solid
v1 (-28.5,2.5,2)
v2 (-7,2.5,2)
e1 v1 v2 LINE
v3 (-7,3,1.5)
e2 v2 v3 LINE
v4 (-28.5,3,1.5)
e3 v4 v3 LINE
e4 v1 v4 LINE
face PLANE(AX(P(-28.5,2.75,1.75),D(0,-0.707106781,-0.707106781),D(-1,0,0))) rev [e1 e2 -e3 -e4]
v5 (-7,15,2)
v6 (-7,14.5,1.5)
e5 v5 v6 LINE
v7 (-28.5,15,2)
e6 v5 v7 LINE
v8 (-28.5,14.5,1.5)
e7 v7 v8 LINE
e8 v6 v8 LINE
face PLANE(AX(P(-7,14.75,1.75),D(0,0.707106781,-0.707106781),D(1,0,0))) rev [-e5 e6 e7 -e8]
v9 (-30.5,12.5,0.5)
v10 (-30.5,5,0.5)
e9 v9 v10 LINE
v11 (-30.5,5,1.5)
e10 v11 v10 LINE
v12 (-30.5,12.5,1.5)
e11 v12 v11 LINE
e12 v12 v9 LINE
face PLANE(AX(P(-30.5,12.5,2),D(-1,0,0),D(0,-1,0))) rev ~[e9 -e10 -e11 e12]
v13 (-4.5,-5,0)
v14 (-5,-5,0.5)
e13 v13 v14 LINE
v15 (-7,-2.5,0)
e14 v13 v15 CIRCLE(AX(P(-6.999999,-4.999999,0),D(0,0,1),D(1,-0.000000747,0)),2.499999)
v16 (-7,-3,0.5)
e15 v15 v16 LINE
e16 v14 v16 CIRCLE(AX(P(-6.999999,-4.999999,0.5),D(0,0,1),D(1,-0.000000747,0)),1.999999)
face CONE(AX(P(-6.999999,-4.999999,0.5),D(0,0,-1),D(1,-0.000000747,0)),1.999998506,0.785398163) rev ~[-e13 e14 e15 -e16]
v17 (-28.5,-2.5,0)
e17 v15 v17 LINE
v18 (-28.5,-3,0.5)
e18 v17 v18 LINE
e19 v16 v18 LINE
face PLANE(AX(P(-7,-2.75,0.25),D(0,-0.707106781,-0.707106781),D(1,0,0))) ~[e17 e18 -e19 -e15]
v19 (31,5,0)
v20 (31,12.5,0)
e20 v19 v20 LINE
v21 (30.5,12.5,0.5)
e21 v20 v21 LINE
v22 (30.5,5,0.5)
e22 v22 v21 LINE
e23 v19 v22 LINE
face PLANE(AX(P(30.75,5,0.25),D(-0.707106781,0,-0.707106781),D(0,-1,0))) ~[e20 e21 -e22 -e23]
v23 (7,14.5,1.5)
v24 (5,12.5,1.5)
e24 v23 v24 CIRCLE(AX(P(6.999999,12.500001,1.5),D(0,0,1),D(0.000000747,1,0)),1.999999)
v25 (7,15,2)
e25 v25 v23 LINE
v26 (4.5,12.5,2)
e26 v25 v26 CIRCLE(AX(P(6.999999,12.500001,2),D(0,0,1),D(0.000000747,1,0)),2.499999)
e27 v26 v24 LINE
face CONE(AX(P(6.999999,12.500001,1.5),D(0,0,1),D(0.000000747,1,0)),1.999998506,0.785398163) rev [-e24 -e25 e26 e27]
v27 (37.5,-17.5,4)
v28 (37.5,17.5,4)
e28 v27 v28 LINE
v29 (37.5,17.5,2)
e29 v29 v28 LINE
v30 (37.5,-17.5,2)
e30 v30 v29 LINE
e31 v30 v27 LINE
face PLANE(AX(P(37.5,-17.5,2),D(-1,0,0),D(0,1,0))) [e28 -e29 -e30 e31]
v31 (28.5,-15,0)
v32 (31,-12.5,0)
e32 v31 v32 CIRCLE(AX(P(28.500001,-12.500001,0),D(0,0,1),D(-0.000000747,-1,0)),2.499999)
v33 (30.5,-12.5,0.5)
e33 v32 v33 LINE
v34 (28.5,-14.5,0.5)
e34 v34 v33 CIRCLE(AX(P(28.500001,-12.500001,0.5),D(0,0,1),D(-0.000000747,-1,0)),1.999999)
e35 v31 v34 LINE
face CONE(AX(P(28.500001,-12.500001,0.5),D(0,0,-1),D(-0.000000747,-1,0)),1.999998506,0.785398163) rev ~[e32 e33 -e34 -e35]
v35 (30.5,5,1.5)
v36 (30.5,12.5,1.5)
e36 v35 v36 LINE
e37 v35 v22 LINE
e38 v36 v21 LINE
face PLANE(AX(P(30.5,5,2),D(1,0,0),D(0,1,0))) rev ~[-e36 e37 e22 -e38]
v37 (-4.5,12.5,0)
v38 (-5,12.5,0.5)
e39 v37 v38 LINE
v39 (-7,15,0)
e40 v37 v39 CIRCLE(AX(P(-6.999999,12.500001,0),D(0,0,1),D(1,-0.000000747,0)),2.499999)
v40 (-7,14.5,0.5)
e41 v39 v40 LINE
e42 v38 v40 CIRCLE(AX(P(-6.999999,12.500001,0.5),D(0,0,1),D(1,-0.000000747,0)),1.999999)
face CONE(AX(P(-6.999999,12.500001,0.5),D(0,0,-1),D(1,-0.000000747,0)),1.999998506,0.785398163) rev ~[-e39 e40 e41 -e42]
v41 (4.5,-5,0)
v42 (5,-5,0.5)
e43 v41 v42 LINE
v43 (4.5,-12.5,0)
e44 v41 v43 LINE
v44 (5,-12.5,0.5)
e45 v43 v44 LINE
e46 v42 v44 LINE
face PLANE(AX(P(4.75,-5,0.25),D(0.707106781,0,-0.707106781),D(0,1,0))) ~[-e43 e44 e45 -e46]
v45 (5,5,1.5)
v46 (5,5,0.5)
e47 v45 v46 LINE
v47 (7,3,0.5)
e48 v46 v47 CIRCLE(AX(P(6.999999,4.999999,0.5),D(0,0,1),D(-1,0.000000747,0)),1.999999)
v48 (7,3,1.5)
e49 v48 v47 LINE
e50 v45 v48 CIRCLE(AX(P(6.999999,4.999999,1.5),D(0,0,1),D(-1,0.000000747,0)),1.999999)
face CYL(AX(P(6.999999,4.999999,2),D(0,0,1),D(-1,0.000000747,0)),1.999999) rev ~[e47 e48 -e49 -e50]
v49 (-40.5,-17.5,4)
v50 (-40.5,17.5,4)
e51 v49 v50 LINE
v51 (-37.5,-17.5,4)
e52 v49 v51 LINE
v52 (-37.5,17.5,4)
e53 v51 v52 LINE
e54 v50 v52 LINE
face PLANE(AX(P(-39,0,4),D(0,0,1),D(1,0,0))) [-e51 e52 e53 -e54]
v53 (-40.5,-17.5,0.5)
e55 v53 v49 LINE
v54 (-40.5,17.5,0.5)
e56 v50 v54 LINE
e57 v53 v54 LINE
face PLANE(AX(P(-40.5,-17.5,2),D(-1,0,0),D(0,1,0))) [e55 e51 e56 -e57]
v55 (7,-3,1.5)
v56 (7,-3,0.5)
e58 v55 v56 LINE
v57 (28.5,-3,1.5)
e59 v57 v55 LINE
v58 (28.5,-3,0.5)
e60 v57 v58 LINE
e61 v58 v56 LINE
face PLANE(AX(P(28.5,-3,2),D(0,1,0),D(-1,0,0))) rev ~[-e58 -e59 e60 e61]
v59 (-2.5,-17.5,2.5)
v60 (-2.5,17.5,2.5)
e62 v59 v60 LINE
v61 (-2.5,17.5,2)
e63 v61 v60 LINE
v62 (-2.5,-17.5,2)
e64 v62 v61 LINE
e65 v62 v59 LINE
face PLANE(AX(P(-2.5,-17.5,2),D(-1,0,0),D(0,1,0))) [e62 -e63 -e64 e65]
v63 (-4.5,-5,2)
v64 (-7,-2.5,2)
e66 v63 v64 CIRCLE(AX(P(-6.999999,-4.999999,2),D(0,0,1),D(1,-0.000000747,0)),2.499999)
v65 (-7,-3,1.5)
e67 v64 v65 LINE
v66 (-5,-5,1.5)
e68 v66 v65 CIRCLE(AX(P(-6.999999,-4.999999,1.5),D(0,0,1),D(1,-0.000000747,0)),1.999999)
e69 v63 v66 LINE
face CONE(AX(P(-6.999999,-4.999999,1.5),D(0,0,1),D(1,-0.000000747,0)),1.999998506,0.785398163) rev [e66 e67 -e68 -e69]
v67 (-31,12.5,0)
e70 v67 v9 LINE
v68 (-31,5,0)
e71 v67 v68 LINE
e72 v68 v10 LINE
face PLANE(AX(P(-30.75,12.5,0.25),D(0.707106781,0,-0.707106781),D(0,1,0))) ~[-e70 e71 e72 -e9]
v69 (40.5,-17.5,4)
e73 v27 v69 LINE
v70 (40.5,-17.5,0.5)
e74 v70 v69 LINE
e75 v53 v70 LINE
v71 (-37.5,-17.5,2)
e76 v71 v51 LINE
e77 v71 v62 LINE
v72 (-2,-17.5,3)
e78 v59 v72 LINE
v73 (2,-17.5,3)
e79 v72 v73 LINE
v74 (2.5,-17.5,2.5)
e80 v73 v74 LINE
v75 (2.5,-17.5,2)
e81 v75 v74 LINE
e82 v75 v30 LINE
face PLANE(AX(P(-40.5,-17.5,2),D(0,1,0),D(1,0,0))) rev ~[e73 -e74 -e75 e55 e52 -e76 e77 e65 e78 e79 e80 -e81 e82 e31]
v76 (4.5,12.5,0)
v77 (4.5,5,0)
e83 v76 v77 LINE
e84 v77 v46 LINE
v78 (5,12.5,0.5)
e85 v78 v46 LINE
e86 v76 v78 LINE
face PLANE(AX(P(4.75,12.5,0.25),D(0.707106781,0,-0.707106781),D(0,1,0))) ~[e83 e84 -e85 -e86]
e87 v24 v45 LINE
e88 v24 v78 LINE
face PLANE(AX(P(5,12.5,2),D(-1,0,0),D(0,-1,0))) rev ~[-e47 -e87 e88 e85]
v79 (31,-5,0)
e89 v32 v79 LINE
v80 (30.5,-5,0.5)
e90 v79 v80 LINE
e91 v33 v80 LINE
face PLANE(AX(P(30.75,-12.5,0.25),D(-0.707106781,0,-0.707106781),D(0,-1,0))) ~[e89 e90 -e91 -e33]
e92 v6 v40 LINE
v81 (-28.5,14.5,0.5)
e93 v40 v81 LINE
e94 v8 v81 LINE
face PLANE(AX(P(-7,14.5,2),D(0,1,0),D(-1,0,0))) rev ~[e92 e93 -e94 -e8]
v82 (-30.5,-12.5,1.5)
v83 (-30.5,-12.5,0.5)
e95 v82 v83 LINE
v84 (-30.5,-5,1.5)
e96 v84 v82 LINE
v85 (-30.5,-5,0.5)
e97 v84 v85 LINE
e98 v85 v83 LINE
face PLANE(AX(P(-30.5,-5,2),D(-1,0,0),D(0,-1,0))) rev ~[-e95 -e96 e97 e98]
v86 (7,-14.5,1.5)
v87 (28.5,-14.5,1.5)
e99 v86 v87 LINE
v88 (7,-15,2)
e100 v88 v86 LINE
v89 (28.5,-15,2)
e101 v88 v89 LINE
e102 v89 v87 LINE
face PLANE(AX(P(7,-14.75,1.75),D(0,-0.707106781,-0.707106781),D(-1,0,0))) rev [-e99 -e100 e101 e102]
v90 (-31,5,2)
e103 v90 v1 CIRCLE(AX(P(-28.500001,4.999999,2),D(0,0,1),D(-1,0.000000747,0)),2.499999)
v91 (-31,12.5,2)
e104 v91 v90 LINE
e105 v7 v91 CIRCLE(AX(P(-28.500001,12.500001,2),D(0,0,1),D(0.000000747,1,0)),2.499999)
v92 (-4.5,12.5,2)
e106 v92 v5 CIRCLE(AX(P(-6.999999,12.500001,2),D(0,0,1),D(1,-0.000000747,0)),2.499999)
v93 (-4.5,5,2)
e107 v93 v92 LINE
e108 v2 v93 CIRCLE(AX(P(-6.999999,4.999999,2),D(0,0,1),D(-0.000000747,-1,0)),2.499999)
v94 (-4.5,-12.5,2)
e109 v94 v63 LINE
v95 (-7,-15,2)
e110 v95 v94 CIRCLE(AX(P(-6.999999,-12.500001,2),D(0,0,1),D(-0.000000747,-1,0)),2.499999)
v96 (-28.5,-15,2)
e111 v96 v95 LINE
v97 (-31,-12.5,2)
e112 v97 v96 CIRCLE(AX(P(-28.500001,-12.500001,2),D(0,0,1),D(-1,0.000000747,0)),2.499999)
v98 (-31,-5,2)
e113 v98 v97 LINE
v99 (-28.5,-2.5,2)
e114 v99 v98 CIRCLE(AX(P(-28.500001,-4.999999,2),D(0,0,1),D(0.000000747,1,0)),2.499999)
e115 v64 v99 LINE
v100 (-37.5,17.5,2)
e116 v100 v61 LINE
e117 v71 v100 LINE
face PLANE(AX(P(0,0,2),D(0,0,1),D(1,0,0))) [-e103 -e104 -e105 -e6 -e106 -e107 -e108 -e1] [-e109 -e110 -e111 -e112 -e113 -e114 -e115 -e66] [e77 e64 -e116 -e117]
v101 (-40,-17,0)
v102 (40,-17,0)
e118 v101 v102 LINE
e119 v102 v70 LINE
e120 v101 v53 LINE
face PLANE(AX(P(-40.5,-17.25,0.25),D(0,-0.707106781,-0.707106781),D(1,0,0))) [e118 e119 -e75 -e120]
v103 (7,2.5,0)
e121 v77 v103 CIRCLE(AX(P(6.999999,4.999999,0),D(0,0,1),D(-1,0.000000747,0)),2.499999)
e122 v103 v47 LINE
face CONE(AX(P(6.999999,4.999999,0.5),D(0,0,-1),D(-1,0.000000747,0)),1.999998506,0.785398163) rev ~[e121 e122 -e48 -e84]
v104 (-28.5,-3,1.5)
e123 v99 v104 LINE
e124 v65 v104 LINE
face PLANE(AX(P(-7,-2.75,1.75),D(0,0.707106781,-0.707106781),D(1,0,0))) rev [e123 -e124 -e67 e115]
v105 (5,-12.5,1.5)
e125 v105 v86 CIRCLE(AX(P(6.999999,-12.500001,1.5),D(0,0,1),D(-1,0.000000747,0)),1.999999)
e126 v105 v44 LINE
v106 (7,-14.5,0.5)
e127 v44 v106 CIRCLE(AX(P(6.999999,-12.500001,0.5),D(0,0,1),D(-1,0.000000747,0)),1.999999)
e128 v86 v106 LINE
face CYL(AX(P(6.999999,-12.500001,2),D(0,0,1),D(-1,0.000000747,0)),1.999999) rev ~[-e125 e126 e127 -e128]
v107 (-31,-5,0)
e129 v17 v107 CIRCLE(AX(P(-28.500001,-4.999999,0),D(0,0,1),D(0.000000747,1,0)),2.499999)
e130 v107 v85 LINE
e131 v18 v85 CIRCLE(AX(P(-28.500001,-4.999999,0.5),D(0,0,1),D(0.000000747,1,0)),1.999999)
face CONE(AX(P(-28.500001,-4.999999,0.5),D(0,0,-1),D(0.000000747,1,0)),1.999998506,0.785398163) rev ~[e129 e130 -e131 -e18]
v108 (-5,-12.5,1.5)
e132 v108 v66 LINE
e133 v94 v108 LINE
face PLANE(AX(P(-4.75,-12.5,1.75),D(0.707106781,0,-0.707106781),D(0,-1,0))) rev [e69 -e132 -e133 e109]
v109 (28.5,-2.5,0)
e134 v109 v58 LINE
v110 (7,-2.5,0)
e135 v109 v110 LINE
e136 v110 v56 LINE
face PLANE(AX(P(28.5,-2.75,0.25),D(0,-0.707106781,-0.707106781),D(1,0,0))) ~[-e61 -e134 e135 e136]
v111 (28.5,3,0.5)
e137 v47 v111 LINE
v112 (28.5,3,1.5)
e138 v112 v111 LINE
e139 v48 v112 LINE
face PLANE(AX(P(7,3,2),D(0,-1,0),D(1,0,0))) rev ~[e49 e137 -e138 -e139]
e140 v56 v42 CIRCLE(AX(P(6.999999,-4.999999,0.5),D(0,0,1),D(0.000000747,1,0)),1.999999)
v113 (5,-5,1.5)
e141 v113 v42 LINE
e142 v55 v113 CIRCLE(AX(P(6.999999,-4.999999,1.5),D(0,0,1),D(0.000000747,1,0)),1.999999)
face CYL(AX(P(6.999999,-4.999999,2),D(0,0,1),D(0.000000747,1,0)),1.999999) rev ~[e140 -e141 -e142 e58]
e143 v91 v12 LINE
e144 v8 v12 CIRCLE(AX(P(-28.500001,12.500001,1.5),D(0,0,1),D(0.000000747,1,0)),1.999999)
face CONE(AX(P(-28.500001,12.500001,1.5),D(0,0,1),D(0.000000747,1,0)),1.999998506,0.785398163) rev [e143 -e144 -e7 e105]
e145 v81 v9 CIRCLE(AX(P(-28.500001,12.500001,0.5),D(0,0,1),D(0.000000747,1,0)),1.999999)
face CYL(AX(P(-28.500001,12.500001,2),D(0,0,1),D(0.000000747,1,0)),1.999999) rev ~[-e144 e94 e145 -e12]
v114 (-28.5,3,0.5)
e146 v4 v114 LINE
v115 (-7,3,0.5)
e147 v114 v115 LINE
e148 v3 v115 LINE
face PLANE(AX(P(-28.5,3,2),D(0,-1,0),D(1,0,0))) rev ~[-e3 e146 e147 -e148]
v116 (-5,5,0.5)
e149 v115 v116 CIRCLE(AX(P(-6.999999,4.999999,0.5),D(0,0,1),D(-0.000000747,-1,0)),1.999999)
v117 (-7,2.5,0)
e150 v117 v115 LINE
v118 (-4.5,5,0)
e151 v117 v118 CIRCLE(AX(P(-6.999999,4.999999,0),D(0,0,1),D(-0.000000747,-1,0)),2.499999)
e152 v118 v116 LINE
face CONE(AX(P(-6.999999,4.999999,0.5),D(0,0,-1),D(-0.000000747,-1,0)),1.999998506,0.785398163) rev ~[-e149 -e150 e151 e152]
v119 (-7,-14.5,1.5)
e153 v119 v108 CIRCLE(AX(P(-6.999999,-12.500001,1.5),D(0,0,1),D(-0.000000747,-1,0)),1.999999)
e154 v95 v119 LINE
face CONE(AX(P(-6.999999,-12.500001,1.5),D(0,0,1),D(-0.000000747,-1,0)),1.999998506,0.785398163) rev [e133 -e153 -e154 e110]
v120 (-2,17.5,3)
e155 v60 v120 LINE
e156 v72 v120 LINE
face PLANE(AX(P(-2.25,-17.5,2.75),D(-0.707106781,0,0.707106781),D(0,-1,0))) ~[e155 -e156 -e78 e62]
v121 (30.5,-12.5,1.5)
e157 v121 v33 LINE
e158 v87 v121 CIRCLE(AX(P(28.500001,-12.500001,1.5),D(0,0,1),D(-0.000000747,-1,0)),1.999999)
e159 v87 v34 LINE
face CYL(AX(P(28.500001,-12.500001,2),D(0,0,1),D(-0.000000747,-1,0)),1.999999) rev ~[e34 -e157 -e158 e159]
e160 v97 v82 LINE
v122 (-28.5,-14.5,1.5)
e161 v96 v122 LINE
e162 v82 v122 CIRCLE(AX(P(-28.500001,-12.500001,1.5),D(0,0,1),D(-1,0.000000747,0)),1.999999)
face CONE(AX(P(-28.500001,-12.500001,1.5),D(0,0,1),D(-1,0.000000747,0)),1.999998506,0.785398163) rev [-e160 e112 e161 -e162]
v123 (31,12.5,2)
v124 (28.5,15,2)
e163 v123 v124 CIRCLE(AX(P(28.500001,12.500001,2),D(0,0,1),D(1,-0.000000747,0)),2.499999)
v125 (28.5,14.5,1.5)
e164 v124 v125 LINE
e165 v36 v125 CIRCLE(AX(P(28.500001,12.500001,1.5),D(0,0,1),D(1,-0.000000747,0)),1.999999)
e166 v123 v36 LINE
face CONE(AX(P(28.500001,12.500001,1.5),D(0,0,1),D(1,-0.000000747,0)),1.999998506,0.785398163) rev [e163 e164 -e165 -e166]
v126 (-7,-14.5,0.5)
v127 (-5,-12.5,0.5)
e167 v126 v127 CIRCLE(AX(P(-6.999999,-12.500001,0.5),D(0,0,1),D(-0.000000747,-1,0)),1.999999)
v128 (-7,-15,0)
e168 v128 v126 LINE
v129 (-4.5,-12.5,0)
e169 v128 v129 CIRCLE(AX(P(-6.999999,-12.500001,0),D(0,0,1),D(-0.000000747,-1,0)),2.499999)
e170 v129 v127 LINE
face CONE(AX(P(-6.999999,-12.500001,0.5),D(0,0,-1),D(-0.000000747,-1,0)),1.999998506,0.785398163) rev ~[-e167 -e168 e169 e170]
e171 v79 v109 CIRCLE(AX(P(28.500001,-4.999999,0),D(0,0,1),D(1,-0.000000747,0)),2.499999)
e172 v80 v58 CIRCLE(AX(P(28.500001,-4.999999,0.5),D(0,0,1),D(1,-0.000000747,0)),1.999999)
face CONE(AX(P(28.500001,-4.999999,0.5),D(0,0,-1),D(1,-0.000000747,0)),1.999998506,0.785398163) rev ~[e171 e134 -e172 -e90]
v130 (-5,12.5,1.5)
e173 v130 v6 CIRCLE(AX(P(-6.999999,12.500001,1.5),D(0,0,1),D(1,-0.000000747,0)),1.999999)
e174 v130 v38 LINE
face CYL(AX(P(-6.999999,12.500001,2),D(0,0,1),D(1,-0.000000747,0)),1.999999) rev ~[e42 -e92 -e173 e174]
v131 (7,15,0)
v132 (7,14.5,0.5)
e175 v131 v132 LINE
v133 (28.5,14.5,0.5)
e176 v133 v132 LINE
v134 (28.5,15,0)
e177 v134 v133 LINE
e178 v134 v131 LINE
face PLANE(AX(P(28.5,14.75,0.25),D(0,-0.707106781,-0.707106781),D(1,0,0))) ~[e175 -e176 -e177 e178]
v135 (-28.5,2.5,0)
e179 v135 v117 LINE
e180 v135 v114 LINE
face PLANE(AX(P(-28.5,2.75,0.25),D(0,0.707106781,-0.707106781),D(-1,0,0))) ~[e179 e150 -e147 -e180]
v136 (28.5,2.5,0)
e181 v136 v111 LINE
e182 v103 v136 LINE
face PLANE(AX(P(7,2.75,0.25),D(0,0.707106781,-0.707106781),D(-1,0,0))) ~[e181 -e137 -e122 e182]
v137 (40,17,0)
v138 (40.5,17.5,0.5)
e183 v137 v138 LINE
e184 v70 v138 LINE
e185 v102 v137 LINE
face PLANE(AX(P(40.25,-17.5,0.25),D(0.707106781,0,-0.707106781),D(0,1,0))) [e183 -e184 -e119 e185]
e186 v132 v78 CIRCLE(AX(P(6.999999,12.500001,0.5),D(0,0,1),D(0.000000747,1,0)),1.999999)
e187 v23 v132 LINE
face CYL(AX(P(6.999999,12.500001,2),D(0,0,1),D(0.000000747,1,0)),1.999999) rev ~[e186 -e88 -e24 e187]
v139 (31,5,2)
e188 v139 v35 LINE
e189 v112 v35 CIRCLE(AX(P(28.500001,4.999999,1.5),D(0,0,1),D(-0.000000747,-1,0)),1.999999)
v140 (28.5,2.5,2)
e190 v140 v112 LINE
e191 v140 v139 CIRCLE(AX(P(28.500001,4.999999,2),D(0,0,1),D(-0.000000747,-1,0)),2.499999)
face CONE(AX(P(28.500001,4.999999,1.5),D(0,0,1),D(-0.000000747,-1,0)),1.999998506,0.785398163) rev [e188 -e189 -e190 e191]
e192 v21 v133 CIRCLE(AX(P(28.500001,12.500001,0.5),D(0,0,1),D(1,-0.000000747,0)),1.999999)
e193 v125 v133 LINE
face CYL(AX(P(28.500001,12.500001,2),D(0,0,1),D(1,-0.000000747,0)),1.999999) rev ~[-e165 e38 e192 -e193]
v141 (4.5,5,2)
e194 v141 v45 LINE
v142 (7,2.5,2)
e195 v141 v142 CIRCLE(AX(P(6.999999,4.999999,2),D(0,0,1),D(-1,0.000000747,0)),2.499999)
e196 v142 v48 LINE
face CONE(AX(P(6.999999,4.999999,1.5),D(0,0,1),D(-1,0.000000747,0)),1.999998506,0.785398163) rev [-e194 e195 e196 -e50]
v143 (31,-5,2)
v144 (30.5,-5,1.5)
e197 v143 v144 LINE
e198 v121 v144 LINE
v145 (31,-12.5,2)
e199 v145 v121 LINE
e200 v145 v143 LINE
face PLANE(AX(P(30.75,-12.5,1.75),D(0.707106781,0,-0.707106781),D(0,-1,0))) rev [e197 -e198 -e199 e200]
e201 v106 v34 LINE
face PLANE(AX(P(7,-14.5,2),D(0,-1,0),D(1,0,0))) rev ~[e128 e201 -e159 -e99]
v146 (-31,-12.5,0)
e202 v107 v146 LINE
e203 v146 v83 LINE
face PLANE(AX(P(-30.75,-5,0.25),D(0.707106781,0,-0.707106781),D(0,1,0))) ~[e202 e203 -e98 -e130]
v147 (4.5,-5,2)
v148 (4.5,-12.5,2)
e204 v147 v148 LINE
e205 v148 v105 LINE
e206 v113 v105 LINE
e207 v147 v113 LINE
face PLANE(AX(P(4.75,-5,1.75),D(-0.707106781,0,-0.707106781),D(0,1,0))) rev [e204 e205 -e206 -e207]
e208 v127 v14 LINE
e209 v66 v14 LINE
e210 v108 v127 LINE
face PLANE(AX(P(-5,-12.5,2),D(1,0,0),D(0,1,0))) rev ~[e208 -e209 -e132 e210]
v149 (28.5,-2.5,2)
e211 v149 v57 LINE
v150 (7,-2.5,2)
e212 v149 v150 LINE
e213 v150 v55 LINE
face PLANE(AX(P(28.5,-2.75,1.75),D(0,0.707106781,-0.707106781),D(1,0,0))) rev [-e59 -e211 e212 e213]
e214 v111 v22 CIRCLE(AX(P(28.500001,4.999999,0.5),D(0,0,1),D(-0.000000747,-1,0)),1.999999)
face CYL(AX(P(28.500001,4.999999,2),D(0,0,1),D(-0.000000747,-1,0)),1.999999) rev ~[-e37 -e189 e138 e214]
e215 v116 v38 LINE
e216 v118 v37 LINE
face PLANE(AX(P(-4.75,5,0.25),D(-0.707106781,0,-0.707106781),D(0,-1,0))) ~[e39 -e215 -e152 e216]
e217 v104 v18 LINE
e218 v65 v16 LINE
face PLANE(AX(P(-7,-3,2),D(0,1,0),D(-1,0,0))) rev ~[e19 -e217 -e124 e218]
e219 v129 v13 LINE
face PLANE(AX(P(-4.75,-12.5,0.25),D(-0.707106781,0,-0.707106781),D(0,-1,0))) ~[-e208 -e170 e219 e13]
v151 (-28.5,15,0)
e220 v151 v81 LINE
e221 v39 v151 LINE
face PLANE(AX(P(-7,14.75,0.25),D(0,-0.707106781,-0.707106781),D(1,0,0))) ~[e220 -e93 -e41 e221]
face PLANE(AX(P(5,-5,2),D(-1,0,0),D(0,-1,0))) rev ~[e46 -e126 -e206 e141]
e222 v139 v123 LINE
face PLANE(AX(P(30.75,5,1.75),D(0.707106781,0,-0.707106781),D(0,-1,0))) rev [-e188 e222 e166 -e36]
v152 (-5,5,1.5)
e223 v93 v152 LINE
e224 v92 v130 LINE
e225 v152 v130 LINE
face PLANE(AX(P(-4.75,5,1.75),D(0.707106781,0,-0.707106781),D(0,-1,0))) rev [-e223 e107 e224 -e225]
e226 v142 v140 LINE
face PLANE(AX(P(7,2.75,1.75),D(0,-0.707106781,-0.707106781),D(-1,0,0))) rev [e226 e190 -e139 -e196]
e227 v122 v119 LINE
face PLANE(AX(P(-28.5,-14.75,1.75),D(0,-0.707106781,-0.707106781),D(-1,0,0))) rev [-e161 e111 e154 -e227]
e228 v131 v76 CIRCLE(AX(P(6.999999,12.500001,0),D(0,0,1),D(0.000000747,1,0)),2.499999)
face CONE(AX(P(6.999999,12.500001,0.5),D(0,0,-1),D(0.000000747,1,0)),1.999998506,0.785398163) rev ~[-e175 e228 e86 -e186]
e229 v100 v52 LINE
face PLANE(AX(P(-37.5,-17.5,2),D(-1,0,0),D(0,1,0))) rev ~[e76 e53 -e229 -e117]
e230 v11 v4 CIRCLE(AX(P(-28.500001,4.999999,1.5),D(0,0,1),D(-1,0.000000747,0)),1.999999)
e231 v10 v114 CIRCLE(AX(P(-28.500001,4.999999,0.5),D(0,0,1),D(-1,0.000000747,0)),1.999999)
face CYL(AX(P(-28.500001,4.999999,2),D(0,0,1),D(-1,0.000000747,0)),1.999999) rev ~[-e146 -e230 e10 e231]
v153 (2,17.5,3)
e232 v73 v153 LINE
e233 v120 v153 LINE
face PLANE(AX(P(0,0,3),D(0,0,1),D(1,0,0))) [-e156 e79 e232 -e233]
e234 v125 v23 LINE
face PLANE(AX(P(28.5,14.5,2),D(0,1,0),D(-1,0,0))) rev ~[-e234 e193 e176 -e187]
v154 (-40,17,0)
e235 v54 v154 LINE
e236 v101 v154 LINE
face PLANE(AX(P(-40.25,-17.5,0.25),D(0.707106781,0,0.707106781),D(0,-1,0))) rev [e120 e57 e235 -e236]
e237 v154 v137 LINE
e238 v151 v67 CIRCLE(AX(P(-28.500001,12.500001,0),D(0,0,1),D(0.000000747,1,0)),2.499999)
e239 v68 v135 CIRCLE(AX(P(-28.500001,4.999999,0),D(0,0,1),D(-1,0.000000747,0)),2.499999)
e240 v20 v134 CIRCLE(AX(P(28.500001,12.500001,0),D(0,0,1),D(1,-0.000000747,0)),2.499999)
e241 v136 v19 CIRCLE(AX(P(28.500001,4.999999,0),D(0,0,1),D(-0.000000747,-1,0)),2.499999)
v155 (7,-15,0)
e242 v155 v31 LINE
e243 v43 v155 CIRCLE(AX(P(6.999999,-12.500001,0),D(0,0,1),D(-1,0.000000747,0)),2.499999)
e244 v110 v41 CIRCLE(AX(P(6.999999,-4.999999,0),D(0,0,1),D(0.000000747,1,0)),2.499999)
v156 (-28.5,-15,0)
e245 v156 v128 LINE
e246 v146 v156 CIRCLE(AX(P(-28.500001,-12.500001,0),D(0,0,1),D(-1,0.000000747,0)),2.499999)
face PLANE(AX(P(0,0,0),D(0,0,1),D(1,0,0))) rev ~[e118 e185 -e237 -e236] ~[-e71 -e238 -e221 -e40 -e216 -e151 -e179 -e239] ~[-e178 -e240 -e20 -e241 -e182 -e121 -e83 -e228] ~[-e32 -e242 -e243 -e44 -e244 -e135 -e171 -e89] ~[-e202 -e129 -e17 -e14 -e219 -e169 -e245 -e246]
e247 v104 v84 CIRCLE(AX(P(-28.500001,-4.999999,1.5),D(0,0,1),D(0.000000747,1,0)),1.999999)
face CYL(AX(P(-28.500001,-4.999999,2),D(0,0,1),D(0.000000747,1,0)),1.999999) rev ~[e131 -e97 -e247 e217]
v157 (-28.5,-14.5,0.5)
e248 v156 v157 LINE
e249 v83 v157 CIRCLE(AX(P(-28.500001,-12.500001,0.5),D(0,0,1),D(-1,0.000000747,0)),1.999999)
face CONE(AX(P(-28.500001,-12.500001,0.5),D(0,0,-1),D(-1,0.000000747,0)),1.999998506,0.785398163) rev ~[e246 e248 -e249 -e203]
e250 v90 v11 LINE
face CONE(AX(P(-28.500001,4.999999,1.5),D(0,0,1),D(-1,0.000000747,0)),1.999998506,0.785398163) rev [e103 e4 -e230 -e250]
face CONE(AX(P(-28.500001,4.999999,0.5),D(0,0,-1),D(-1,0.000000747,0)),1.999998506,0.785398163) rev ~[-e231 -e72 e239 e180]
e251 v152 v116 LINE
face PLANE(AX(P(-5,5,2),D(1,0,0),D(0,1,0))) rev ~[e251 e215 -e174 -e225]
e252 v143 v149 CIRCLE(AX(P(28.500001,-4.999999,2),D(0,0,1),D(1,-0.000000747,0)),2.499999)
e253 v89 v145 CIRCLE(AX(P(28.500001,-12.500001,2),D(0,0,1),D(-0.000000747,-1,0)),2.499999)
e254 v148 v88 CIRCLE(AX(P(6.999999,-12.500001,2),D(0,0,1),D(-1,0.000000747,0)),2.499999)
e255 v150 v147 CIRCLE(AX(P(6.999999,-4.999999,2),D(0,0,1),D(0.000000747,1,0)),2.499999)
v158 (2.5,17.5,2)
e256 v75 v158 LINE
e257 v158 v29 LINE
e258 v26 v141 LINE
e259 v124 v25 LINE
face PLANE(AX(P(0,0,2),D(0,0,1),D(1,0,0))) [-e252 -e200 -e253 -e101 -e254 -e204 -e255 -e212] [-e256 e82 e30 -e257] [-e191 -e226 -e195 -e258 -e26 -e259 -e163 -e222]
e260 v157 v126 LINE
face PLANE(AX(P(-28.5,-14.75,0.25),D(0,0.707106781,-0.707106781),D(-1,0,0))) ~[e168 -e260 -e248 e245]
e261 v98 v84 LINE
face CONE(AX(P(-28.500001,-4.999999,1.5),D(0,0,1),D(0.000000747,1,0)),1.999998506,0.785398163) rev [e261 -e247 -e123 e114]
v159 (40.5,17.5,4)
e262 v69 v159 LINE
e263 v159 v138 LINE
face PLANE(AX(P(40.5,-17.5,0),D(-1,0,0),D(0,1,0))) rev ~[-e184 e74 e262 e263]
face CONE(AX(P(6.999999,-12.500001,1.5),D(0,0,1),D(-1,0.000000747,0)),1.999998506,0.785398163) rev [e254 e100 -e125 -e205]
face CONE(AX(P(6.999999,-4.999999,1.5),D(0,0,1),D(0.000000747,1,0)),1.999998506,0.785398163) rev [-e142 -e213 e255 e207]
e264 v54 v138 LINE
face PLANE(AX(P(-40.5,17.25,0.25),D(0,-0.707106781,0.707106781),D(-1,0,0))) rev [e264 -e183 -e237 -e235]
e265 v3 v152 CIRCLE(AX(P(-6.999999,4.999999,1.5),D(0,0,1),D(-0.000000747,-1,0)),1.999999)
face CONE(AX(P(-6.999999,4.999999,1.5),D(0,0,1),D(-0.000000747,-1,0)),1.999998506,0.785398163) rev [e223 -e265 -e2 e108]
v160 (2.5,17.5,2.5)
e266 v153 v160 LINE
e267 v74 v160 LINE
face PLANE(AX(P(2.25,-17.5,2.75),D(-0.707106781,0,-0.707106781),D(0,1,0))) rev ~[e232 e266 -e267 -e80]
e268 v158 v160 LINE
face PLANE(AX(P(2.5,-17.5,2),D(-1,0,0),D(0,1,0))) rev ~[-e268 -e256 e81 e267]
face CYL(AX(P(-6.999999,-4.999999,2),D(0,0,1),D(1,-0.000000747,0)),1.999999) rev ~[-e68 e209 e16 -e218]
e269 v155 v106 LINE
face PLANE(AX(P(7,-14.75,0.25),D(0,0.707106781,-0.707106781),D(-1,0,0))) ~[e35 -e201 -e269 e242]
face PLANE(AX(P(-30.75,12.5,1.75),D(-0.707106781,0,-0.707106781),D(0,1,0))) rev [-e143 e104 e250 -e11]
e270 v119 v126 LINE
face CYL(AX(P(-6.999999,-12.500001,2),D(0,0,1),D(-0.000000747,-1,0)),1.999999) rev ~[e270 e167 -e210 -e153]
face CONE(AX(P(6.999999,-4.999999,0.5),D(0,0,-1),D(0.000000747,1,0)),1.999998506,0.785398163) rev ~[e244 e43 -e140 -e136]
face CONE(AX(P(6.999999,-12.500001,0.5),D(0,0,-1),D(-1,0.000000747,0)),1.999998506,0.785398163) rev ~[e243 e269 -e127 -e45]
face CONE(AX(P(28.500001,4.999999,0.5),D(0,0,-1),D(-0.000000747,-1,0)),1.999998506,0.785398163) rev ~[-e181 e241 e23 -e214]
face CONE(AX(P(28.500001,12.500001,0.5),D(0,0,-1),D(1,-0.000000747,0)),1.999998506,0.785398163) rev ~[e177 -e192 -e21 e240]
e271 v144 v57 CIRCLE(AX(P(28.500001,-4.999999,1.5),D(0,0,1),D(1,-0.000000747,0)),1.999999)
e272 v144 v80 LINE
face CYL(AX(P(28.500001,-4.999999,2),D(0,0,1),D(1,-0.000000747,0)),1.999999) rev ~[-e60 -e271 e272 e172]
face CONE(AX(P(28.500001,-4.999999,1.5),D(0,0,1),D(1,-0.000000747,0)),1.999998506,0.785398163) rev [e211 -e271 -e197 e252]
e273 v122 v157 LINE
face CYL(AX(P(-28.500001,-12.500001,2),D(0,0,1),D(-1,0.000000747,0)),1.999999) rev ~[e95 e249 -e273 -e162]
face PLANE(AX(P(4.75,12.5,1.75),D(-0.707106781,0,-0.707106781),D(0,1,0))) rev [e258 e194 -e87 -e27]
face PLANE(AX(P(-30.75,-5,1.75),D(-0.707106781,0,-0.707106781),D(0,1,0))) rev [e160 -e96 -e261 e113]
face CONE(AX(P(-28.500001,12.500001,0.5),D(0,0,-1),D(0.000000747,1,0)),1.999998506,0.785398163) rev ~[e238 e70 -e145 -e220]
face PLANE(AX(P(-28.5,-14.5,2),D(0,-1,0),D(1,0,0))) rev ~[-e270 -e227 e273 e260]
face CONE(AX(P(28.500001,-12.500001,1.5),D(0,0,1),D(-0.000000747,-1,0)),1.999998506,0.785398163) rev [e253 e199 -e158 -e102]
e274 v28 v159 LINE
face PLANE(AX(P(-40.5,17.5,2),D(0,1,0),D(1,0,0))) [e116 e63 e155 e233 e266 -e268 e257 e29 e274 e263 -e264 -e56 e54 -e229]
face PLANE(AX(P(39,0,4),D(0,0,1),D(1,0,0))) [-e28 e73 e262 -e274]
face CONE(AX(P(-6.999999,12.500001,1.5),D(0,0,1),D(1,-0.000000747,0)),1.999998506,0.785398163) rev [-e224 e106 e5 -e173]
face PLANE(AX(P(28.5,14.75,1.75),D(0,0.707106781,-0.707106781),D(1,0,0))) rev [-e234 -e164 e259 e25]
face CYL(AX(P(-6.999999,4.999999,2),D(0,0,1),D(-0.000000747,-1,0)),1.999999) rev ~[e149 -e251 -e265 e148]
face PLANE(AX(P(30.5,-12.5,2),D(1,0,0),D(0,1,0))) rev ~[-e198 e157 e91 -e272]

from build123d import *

# Parameters (mm, degrees)
F0_W     = 81
F0_H     = 35
F1_DEPTH = 2
F2_W     = 5
F2_H     = 35
F3_DEPTH = 1
F4_W     = 3
F4_H     = 35
F5_DEPTH = 2
F7_DEPTH = 2.001
F8_SIZE  = 0.5
F9_SIZE  = 0.5


with BuildPart() as f1:
    # F0 (on Top) → F1 (new body)
    with BuildSketch(Plane.XY):
        Rectangle(F0_W, F0_H)
    extrude(amount=F1_DEPTH)

    # F2 (on face) → F3 (join)
    with BuildSketch(Plane.XY.offset(2)):
        Rectangle(F2_W, F2_H)
    extrude(amount=F3_DEPTH)

    # F4 (on face) → F5 (join)
    with BuildSketch(Plane.XY.offset(2)):
        with Locations((-39, 0)):
            Rectangle(F4_W, F4_H)
        with Locations((39, 0)):
            Rectangle(F4_W, F4_H)
    extrude(amount=F5_DEPTH)

    # F6 (on face) → F7 (cut, through all)
    with BuildSketch(Plane.XY.offset(2)):
        with BuildLine():
            Line((-7, 14.5), (-28.5, 14.5))
            ThreePointArc((-28.5, 14.5), (-29.914214, 13.914214), (-30.5, 12.5))
            Line((-30.5, 12.5), (-30.5, 5))
            ThreePointArc((-30.5, 5), (-29.914214, 3.585786), (-28.5, 3))
            Line((-28.5, 3), (-7, 3))
            ThreePointArc((-7, 3), (-5.585786, 3.585786), (-5, 5))
            Line((-5, 5), (-5, 12.5))
            ThreePointArc((-5, 12.5), (-5.585786, 13.914214), (-7, 14.5))
        make_face()
        with BuildLine():
            Line((-30.5, -5), (-30.5, -12.5))
            ThreePointArc((-30.5, -12.5), (-29.914214, -13.914214), (-28.5, -14.5))
            Line((-28.5, -14.5), (-7, -14.5))
            ThreePointArc((-7, -14.5), (-5.585786, -13.914214), (-5, -12.5))
            Line((-5, -12.5), (-5, -5))
            ThreePointArc((-5, -5), (-5.585786, -3.585786), (-7, -3))
            Line((-7, -3), (-28.5, -3))
            ThreePointArc((-28.5, -3), (-29.914214, -3.585786), (-30.5, -5))
        make_face()
        with BuildLine():
            ThreePointArc((7, 14.5), (5.585786, 13.914214), (5, 12.5))
            Line((5, 12.5), (5, 5))
            ThreePointArc((5, 5), (5.585786, 3.585786), (7, 3))
            Line((7, 3), (28.5, 3))
            ThreePointArc((28.5, 3), (29.914214, 3.585786), (30.5, 5))
            Line((30.5, 5), (30.5, 12.5))
            ThreePointArc((30.5, 12.5), (29.914214, 13.914214), (28.5, 14.5))
            Line((28.5, 14.5), (7, 14.5))
        make_face()
        with BuildLine():
            Line((28.5, -3), (7, -3))
            ThreePointArc((7, -3), (5.585786, -3.585786), (5, -5))
            Line((5, -5), (5, -12.5))
            ThreePointArc((5, -12.5), (5.585786, -13.914214), (7, -14.5))
            Line((7, -14.5), (28.5, -14.5))
            ThreePointArc((28.5, -14.5), (29.914214, -13.914214), (30.5, -12.5))
            Line((30.5, -12.5), (30.5, -5))
            ThreePointArc((30.5, -5), (29.914214, -3.585786), (28.5, -3))
        make_face()
    extrude(amount=-F7_DEPTH, mode=Mode.SUBTRACT)

    # F8
    f8_edges = [f1.edges().sort_by_distance(p)[0] for p in [
        (0, -17.5, 0),
        (40.5, 0, 0),
        (0, 17.5, 0),
        (-40.5, 0, 0),
    ]]
    chamfer(f8_edges, length=F8_SIZE)

    # F9
    f9_edges = [f1.edges().sort_by_distance(p)[0] for p in [
        (2.5, 0, 3),
        (-2.5, 0, 3),
        (17.75, -14.5, 2),
        (17.75, 3, 2),
        (-17.75, -3, 2),
        (-17.75, 3, 2),
        (-17.75, -3, 0),
        (-17.75, 14.5, 0),
        (17.75, 14.5, 0),
        (17.75, -3, 0),
    ]]
    chamfer(f9_edges, length=F9_SIZE)


solid = f1.part
